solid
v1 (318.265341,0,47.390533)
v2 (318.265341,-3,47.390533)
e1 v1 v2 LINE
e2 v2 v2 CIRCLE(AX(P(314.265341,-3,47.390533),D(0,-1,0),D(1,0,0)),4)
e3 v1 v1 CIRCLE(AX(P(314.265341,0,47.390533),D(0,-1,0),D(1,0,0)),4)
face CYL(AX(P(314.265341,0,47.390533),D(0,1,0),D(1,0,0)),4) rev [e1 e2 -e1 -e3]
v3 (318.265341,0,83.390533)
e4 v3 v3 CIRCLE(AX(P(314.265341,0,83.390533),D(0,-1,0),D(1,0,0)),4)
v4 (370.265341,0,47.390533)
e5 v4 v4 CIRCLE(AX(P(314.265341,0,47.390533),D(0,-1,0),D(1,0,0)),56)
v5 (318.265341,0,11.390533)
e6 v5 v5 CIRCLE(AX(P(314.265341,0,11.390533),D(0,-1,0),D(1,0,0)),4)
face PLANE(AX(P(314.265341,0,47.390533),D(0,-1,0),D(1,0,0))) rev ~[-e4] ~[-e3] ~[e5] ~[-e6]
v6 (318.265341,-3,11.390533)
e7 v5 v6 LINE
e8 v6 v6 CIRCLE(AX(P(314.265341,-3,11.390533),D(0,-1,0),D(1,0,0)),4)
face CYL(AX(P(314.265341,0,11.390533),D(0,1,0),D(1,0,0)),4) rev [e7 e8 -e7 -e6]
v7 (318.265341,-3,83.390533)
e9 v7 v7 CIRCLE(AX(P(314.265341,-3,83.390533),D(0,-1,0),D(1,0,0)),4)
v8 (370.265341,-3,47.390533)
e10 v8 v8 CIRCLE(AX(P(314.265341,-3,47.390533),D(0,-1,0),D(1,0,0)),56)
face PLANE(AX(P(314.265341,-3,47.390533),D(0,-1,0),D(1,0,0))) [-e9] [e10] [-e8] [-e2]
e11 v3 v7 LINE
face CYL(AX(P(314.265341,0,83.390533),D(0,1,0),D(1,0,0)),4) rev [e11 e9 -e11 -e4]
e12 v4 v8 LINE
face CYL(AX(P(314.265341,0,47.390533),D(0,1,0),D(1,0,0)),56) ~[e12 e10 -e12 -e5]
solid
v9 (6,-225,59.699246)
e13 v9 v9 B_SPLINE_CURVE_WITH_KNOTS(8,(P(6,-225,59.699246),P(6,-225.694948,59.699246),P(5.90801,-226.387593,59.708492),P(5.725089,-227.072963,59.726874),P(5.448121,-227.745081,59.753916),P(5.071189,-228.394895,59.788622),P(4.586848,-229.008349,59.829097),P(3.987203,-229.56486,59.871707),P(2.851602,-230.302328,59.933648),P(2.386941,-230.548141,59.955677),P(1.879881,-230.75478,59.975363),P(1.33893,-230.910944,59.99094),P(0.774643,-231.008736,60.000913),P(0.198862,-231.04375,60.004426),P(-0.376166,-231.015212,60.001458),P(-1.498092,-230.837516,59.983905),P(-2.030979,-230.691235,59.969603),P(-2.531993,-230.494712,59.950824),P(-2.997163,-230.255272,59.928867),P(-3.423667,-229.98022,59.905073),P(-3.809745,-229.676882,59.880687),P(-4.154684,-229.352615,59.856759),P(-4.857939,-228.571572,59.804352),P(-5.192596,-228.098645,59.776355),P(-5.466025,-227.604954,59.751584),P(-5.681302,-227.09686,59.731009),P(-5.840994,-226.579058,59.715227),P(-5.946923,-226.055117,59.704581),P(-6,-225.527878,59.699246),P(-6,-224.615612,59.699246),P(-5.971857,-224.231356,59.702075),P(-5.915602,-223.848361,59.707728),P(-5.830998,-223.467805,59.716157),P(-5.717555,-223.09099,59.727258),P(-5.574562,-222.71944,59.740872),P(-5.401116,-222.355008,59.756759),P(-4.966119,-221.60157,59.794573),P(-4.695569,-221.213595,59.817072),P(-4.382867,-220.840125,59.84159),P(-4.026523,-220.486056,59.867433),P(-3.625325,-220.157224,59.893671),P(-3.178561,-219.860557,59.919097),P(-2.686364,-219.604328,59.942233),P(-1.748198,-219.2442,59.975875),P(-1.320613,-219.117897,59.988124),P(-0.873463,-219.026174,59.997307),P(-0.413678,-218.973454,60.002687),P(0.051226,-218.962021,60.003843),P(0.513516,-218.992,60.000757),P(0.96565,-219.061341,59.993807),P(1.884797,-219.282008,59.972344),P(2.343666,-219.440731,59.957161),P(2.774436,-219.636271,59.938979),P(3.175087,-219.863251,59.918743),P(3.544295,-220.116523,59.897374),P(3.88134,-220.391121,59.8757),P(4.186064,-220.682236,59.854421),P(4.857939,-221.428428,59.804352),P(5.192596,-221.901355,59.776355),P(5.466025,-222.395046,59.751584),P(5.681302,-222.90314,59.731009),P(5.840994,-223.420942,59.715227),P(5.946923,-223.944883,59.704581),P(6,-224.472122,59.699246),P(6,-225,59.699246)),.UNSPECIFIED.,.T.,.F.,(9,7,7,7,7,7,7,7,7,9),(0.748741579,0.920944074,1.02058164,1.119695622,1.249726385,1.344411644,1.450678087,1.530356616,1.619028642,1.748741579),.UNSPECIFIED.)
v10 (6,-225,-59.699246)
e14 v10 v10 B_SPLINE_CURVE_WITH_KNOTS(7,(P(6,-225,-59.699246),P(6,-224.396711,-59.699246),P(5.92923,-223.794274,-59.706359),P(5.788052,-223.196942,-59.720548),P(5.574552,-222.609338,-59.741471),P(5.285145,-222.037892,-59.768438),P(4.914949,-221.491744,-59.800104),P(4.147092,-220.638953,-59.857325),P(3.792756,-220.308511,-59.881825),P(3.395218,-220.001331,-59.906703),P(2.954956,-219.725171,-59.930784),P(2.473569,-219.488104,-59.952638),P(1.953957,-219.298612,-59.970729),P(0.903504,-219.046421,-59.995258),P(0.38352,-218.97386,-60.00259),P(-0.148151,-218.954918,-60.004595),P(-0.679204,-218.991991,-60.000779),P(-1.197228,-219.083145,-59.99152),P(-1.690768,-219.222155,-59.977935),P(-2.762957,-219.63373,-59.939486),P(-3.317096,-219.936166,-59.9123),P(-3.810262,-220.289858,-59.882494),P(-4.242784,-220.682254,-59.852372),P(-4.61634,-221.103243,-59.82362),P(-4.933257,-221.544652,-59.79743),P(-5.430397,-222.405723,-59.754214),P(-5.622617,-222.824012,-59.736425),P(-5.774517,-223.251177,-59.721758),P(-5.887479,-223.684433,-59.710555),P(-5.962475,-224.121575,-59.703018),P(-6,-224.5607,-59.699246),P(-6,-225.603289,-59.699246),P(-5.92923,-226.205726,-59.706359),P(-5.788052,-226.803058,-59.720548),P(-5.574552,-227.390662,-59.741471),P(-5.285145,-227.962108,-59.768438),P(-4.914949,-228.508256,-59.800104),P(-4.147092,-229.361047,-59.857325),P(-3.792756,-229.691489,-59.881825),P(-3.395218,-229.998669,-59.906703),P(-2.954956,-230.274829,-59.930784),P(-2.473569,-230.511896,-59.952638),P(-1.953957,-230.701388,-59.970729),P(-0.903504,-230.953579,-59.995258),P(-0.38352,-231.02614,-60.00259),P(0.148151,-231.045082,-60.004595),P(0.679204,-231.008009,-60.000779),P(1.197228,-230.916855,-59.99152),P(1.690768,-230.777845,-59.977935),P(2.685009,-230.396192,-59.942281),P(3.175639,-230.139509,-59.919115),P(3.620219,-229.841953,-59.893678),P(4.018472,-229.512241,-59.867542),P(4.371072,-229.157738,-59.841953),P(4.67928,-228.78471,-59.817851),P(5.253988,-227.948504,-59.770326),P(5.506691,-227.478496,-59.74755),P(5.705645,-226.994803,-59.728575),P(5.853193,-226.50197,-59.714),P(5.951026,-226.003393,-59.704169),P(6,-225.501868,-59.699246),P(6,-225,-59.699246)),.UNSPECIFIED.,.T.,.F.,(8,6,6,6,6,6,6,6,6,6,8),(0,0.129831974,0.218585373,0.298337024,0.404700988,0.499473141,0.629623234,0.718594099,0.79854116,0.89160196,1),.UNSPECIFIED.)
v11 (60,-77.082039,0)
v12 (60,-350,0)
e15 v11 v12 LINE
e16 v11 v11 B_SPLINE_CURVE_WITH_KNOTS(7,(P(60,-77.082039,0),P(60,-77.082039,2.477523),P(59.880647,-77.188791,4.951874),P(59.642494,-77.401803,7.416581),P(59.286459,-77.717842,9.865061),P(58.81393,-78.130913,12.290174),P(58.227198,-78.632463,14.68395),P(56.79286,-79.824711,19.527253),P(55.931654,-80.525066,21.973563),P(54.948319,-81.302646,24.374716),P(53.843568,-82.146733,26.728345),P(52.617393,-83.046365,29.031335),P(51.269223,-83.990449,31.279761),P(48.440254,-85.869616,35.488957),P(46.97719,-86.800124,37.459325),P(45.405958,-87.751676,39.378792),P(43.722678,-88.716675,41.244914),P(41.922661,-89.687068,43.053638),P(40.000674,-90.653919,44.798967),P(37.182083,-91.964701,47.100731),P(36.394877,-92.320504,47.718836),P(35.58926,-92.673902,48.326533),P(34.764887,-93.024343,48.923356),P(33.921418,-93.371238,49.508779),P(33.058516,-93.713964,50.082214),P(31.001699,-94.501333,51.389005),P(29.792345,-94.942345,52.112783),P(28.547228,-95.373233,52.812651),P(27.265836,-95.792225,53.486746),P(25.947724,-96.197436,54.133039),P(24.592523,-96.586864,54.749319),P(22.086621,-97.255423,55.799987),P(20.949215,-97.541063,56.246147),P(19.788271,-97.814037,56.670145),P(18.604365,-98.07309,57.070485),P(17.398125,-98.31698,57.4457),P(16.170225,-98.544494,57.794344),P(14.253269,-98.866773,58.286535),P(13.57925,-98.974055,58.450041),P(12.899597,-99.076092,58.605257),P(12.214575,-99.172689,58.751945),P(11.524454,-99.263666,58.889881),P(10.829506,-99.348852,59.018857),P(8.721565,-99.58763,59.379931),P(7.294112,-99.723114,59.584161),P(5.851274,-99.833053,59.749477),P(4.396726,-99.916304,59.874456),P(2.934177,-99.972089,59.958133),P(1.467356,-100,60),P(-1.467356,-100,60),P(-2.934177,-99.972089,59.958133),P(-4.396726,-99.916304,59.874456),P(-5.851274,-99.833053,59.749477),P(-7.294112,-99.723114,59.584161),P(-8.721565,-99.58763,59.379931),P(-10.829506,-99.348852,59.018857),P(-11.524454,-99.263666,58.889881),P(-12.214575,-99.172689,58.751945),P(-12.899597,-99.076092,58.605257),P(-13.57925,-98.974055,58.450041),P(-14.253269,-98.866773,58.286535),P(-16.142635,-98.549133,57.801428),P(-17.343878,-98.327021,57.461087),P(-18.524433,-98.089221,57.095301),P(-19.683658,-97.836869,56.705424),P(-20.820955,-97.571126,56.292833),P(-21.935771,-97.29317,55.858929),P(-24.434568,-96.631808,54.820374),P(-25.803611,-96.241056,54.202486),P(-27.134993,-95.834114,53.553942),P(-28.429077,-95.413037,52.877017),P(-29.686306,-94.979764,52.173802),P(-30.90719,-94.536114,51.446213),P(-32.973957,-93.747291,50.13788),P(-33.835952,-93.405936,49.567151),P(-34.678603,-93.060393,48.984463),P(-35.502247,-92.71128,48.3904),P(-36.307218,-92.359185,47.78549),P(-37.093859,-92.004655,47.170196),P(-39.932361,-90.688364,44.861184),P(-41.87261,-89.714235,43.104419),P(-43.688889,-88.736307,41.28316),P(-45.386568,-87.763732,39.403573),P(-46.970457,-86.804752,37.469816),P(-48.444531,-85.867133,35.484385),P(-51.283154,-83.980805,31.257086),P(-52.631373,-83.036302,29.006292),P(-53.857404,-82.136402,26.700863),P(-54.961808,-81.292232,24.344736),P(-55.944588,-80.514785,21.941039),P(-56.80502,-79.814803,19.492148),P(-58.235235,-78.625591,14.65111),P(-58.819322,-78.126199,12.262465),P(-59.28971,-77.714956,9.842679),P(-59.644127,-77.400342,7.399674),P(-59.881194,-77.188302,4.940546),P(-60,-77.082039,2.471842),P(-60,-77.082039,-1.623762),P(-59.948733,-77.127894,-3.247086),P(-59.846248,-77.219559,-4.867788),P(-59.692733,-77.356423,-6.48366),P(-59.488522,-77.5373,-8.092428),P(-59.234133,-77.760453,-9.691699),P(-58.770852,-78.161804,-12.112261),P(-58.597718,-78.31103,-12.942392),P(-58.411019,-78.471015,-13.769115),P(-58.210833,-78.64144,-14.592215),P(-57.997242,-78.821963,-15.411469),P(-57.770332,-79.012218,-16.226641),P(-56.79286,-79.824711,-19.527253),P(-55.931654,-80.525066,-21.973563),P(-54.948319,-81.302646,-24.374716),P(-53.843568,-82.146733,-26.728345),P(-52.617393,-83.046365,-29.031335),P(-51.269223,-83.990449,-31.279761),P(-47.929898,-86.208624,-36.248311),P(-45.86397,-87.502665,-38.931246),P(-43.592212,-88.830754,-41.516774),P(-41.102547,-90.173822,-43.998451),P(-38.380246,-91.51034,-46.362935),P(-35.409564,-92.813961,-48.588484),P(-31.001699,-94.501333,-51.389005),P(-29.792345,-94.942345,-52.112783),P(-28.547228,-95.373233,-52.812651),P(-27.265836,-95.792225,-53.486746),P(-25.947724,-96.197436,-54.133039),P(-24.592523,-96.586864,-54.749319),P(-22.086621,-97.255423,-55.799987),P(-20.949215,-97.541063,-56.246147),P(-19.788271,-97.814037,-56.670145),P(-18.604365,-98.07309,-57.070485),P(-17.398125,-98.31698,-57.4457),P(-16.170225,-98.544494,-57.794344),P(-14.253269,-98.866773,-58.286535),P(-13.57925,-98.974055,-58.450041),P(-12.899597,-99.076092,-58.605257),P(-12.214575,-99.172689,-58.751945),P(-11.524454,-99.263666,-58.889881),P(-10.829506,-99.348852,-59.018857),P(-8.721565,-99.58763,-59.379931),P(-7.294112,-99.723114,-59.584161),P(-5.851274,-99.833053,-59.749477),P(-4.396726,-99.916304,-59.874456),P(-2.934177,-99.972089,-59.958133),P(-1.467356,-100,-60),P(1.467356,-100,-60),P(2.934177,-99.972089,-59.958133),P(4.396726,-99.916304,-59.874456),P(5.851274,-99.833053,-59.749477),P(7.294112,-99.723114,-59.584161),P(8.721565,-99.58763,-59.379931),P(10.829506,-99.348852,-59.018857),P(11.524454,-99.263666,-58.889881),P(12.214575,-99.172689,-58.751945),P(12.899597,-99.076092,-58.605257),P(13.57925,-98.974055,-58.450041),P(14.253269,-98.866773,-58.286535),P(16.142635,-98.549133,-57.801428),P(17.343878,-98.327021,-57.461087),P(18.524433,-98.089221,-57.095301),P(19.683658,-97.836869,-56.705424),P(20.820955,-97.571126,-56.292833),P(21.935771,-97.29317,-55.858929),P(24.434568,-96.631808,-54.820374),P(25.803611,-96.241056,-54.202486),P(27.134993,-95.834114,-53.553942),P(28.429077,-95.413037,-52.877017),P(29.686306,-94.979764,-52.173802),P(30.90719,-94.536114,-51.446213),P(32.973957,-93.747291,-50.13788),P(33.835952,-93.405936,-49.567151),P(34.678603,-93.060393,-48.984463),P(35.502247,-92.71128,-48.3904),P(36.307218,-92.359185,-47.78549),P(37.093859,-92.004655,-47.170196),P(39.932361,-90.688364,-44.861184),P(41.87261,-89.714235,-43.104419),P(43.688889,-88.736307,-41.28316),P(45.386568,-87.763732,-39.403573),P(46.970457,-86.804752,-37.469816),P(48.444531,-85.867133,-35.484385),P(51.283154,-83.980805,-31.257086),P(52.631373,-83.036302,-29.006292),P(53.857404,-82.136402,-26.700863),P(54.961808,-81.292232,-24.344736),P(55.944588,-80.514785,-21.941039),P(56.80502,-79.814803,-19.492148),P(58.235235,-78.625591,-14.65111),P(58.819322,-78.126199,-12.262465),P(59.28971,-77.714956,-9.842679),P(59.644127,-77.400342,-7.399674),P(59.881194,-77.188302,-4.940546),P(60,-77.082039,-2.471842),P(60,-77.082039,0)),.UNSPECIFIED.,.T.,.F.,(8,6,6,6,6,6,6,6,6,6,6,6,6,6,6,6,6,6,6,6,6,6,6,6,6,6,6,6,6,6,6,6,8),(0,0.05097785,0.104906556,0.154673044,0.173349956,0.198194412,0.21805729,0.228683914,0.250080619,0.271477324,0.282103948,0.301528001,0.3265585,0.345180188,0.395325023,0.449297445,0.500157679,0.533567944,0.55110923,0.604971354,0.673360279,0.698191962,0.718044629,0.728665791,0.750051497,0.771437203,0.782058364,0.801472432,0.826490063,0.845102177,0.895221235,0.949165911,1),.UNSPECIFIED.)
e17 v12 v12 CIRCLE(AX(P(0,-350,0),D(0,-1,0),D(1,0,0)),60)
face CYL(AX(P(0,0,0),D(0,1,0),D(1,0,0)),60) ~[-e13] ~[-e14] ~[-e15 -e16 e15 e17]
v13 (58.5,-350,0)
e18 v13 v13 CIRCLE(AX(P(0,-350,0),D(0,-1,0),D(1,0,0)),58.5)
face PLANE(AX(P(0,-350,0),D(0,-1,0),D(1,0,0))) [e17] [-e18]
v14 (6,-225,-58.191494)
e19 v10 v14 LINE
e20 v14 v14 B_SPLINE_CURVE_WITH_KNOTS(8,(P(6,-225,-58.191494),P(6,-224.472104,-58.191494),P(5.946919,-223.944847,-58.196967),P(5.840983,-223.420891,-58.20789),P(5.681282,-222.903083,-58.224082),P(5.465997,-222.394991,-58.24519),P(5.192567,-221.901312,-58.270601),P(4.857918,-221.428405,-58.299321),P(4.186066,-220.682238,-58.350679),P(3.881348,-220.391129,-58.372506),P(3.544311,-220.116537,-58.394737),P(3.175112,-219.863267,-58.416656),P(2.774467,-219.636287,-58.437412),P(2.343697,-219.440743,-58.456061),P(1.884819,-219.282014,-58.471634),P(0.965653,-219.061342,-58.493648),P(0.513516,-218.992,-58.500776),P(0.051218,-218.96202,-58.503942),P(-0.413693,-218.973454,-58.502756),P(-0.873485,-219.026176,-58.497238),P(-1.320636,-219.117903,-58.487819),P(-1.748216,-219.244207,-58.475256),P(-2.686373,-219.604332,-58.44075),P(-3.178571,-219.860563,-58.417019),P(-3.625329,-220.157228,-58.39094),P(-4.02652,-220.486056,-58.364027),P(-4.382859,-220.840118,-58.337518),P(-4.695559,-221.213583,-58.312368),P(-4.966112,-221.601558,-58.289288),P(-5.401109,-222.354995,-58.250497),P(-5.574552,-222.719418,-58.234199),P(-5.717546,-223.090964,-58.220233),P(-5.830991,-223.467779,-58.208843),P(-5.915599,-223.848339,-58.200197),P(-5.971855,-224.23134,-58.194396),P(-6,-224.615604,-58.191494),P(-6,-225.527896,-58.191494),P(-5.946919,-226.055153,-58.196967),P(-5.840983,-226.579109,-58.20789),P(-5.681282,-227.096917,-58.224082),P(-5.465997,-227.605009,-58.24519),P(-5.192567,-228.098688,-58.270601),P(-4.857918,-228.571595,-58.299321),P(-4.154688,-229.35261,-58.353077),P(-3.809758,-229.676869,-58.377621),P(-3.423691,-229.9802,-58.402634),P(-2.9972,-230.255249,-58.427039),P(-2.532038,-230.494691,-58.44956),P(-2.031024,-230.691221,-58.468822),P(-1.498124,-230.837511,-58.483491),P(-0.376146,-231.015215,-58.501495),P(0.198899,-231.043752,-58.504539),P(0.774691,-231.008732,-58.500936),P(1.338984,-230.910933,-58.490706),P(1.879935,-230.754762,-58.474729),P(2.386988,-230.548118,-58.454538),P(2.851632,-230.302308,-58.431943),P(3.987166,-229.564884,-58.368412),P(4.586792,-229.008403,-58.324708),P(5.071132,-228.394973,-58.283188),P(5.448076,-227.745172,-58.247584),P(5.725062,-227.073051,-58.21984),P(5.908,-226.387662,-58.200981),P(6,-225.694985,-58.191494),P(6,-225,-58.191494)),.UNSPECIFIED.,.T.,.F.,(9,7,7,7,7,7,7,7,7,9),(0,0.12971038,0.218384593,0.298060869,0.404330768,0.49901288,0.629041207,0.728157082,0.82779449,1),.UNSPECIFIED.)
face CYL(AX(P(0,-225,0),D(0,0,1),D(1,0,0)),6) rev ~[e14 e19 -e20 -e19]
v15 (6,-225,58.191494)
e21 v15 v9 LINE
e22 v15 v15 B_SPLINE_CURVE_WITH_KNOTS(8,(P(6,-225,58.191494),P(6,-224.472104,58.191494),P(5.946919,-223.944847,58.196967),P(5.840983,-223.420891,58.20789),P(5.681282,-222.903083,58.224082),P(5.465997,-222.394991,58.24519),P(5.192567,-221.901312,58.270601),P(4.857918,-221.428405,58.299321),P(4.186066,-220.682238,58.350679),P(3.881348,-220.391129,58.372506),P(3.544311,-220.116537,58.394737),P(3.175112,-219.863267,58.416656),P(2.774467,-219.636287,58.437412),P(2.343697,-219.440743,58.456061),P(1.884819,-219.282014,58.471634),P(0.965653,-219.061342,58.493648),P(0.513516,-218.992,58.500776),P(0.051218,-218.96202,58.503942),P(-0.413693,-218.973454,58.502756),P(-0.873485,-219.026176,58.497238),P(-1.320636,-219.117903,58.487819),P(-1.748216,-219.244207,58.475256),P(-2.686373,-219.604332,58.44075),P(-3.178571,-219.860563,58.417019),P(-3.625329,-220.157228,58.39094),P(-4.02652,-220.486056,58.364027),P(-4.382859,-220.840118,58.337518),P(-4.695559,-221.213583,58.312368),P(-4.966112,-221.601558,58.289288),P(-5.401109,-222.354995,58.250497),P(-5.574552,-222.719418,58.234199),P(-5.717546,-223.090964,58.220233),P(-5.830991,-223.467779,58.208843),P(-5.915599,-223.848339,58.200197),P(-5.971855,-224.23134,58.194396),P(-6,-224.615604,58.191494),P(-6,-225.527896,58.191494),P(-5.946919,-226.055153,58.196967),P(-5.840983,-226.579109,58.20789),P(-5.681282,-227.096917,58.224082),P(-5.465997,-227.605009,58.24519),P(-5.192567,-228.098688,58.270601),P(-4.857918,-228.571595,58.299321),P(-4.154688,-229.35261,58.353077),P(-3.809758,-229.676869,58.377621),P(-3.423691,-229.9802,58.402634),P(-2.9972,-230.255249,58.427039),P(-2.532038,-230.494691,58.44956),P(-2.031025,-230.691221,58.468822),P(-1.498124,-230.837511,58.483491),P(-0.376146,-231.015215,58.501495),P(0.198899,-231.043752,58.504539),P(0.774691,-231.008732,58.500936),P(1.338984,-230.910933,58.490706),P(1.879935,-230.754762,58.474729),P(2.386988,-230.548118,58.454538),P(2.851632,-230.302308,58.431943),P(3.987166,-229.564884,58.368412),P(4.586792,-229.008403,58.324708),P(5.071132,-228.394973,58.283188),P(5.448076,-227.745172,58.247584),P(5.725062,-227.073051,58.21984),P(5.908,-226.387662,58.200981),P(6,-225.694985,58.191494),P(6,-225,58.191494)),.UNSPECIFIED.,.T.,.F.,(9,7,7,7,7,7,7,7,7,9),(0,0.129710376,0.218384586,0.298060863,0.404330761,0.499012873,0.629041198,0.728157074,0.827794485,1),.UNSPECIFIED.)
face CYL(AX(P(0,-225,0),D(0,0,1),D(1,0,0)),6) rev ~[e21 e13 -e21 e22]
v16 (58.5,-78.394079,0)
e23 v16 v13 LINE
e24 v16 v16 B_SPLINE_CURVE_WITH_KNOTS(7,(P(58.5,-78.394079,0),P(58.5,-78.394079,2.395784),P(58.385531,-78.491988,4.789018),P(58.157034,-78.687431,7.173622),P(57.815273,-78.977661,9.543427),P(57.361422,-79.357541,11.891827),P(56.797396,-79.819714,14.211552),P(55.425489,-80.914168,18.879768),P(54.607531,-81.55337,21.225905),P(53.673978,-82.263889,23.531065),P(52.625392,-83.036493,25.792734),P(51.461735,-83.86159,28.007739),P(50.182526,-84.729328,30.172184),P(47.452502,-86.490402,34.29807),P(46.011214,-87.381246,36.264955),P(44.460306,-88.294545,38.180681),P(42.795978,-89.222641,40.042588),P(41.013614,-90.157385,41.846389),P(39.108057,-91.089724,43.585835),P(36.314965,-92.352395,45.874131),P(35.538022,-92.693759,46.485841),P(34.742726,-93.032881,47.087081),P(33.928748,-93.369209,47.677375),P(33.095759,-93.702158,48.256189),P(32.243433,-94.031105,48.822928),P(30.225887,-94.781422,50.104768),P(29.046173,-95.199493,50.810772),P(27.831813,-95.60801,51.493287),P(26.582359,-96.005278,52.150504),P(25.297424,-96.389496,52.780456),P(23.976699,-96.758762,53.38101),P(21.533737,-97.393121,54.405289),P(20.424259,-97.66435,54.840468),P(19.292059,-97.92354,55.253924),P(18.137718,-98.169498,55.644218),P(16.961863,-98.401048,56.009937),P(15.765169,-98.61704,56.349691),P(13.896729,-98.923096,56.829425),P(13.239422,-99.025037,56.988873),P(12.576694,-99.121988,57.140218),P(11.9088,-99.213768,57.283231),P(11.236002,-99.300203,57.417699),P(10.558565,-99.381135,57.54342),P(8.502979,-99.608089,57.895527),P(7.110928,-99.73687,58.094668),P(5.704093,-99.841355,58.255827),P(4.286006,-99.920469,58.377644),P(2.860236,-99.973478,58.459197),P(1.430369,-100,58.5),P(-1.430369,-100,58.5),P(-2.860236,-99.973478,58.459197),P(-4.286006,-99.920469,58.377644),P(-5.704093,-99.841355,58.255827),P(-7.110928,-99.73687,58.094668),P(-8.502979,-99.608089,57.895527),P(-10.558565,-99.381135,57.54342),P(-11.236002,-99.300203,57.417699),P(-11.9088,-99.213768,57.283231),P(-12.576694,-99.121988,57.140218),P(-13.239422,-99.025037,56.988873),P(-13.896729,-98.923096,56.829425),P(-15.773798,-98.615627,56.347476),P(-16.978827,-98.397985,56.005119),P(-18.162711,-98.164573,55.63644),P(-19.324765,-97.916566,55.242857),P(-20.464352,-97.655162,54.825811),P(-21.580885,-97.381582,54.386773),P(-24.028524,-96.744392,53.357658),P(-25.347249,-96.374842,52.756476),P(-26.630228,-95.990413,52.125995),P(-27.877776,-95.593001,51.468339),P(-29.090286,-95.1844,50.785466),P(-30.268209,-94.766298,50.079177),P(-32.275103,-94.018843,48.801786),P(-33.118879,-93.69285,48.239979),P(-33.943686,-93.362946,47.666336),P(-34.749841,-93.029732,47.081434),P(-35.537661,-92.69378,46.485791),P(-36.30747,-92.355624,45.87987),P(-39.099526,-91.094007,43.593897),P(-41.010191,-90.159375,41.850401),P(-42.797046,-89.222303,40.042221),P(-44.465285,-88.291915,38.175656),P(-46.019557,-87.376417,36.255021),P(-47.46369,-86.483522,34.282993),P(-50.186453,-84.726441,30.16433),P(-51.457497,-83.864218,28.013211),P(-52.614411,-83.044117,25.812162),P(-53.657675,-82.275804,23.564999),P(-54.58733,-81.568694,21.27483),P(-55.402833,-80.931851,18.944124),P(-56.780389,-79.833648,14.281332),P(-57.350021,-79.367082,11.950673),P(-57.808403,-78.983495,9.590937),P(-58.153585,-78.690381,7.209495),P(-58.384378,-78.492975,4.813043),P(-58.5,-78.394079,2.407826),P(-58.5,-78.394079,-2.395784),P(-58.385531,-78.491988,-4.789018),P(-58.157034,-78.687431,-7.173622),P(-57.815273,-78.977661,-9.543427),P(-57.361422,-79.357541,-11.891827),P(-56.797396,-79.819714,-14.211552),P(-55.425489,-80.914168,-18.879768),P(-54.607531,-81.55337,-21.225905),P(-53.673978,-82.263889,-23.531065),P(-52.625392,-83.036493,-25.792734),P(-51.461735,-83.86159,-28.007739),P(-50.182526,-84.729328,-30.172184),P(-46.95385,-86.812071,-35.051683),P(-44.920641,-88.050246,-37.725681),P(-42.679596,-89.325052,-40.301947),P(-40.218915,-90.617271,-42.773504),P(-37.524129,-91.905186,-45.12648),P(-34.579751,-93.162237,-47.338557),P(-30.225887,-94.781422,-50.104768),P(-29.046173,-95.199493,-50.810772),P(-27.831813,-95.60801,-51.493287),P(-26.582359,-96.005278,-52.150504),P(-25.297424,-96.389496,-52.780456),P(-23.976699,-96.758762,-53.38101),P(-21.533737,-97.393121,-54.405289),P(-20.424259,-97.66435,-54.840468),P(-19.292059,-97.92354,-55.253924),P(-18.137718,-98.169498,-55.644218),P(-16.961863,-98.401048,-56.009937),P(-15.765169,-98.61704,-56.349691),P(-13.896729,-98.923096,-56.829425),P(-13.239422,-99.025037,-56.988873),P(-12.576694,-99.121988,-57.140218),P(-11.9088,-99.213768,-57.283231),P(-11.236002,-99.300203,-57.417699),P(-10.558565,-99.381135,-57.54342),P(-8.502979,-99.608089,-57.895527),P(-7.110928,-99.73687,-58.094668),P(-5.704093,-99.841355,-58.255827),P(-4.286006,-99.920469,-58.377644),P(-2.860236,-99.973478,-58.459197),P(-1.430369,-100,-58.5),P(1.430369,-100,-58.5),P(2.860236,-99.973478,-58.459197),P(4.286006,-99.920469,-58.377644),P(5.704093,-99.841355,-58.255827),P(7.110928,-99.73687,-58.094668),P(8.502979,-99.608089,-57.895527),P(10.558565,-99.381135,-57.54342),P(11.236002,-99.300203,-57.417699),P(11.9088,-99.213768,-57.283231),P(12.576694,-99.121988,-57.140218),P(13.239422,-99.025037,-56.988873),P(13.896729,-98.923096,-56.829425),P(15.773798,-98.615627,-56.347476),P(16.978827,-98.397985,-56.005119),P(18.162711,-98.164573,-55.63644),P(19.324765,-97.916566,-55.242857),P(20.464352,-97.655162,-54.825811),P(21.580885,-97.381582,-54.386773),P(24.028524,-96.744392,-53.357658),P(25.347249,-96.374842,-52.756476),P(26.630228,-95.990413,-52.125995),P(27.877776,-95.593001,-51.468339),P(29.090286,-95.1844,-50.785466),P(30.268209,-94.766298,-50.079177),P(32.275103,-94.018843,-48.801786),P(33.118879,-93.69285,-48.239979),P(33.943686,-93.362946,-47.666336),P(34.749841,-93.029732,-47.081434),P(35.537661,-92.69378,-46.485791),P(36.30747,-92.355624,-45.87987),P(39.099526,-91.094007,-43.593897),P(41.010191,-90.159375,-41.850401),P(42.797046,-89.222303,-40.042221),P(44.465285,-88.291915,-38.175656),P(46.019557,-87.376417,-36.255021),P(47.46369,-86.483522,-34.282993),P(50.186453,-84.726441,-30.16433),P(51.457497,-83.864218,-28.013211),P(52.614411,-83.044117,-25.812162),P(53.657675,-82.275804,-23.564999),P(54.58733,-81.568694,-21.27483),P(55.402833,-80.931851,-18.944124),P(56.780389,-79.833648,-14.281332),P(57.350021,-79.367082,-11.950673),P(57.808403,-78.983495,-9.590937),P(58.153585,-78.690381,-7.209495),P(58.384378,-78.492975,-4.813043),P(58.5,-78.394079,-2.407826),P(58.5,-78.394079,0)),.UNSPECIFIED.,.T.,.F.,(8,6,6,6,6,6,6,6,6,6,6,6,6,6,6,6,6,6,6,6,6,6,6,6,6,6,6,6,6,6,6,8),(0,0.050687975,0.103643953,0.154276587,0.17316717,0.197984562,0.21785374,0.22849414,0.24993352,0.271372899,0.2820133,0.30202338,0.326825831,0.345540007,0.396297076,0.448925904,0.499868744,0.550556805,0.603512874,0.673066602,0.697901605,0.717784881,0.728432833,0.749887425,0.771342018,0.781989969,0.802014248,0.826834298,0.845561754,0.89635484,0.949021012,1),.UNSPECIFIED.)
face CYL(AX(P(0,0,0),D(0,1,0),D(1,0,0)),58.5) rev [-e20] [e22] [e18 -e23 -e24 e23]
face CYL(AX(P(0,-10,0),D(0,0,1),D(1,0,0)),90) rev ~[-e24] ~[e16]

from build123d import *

# Parameters (mm, degrees)
F0_R     = 60
F0_R_2   = 58.5
F1_DEPTH = 350
F2_R     = 90
F3_DEPTH = 60
F4_R     = 6
F5_DEPTH = 60
F6_R     = 56
F6_R_2   = 4
F7_DEPTH = 3


with BuildPart() as f1:
    # F0 (on Front) → F1 (new body)
    with BuildSketch(Plane.XZ):
        Circle(F0_R)
        Circle(F0_R_2, mode=Mode.SUBTRACT)
    extrude(amount=F1_DEPTH)

    # F2 (on Top) → F3 (cut, symmetric)
    with BuildSketch(Plane.XY):
        with Locations((0, -10)):
            Circle(F2_R)
    extrude(amount=F3_DEPTH, both=True, mode=Mode.SUBTRACT)

    # F4 (on Top) → F5 (cut, symmetric)
    with BuildSketch(Plane.XY):
        with Locations((0, -225)):
            Circle(F4_R)
    extrude(amount=F5_DEPTH, both=True, mode=Mode.SUBTRACT)


with BuildPart() as f7:
    # F6 (on Front) → F7 (new body)
    with BuildSketch(Plane.XZ):
        with Locations((314.265341, 47.390533)):
            Circle(F6_R)
        with Locations((314.265341, 11.390533)):
            Circle(F6_R_2, mode=Mode.SUBTRACT)
        with Locations((314.265341, 47.390533)):
            Circle(F6_R_2, mode=Mode.SUBTRACT)
        with Locations((314.265341, 83.390533)):
            Circle(F6_R_2, mode=Mode.SUBTRACT)
    extrude(amount=F7_DEPTH)


solid = Compound([f1.part, f7.part])
